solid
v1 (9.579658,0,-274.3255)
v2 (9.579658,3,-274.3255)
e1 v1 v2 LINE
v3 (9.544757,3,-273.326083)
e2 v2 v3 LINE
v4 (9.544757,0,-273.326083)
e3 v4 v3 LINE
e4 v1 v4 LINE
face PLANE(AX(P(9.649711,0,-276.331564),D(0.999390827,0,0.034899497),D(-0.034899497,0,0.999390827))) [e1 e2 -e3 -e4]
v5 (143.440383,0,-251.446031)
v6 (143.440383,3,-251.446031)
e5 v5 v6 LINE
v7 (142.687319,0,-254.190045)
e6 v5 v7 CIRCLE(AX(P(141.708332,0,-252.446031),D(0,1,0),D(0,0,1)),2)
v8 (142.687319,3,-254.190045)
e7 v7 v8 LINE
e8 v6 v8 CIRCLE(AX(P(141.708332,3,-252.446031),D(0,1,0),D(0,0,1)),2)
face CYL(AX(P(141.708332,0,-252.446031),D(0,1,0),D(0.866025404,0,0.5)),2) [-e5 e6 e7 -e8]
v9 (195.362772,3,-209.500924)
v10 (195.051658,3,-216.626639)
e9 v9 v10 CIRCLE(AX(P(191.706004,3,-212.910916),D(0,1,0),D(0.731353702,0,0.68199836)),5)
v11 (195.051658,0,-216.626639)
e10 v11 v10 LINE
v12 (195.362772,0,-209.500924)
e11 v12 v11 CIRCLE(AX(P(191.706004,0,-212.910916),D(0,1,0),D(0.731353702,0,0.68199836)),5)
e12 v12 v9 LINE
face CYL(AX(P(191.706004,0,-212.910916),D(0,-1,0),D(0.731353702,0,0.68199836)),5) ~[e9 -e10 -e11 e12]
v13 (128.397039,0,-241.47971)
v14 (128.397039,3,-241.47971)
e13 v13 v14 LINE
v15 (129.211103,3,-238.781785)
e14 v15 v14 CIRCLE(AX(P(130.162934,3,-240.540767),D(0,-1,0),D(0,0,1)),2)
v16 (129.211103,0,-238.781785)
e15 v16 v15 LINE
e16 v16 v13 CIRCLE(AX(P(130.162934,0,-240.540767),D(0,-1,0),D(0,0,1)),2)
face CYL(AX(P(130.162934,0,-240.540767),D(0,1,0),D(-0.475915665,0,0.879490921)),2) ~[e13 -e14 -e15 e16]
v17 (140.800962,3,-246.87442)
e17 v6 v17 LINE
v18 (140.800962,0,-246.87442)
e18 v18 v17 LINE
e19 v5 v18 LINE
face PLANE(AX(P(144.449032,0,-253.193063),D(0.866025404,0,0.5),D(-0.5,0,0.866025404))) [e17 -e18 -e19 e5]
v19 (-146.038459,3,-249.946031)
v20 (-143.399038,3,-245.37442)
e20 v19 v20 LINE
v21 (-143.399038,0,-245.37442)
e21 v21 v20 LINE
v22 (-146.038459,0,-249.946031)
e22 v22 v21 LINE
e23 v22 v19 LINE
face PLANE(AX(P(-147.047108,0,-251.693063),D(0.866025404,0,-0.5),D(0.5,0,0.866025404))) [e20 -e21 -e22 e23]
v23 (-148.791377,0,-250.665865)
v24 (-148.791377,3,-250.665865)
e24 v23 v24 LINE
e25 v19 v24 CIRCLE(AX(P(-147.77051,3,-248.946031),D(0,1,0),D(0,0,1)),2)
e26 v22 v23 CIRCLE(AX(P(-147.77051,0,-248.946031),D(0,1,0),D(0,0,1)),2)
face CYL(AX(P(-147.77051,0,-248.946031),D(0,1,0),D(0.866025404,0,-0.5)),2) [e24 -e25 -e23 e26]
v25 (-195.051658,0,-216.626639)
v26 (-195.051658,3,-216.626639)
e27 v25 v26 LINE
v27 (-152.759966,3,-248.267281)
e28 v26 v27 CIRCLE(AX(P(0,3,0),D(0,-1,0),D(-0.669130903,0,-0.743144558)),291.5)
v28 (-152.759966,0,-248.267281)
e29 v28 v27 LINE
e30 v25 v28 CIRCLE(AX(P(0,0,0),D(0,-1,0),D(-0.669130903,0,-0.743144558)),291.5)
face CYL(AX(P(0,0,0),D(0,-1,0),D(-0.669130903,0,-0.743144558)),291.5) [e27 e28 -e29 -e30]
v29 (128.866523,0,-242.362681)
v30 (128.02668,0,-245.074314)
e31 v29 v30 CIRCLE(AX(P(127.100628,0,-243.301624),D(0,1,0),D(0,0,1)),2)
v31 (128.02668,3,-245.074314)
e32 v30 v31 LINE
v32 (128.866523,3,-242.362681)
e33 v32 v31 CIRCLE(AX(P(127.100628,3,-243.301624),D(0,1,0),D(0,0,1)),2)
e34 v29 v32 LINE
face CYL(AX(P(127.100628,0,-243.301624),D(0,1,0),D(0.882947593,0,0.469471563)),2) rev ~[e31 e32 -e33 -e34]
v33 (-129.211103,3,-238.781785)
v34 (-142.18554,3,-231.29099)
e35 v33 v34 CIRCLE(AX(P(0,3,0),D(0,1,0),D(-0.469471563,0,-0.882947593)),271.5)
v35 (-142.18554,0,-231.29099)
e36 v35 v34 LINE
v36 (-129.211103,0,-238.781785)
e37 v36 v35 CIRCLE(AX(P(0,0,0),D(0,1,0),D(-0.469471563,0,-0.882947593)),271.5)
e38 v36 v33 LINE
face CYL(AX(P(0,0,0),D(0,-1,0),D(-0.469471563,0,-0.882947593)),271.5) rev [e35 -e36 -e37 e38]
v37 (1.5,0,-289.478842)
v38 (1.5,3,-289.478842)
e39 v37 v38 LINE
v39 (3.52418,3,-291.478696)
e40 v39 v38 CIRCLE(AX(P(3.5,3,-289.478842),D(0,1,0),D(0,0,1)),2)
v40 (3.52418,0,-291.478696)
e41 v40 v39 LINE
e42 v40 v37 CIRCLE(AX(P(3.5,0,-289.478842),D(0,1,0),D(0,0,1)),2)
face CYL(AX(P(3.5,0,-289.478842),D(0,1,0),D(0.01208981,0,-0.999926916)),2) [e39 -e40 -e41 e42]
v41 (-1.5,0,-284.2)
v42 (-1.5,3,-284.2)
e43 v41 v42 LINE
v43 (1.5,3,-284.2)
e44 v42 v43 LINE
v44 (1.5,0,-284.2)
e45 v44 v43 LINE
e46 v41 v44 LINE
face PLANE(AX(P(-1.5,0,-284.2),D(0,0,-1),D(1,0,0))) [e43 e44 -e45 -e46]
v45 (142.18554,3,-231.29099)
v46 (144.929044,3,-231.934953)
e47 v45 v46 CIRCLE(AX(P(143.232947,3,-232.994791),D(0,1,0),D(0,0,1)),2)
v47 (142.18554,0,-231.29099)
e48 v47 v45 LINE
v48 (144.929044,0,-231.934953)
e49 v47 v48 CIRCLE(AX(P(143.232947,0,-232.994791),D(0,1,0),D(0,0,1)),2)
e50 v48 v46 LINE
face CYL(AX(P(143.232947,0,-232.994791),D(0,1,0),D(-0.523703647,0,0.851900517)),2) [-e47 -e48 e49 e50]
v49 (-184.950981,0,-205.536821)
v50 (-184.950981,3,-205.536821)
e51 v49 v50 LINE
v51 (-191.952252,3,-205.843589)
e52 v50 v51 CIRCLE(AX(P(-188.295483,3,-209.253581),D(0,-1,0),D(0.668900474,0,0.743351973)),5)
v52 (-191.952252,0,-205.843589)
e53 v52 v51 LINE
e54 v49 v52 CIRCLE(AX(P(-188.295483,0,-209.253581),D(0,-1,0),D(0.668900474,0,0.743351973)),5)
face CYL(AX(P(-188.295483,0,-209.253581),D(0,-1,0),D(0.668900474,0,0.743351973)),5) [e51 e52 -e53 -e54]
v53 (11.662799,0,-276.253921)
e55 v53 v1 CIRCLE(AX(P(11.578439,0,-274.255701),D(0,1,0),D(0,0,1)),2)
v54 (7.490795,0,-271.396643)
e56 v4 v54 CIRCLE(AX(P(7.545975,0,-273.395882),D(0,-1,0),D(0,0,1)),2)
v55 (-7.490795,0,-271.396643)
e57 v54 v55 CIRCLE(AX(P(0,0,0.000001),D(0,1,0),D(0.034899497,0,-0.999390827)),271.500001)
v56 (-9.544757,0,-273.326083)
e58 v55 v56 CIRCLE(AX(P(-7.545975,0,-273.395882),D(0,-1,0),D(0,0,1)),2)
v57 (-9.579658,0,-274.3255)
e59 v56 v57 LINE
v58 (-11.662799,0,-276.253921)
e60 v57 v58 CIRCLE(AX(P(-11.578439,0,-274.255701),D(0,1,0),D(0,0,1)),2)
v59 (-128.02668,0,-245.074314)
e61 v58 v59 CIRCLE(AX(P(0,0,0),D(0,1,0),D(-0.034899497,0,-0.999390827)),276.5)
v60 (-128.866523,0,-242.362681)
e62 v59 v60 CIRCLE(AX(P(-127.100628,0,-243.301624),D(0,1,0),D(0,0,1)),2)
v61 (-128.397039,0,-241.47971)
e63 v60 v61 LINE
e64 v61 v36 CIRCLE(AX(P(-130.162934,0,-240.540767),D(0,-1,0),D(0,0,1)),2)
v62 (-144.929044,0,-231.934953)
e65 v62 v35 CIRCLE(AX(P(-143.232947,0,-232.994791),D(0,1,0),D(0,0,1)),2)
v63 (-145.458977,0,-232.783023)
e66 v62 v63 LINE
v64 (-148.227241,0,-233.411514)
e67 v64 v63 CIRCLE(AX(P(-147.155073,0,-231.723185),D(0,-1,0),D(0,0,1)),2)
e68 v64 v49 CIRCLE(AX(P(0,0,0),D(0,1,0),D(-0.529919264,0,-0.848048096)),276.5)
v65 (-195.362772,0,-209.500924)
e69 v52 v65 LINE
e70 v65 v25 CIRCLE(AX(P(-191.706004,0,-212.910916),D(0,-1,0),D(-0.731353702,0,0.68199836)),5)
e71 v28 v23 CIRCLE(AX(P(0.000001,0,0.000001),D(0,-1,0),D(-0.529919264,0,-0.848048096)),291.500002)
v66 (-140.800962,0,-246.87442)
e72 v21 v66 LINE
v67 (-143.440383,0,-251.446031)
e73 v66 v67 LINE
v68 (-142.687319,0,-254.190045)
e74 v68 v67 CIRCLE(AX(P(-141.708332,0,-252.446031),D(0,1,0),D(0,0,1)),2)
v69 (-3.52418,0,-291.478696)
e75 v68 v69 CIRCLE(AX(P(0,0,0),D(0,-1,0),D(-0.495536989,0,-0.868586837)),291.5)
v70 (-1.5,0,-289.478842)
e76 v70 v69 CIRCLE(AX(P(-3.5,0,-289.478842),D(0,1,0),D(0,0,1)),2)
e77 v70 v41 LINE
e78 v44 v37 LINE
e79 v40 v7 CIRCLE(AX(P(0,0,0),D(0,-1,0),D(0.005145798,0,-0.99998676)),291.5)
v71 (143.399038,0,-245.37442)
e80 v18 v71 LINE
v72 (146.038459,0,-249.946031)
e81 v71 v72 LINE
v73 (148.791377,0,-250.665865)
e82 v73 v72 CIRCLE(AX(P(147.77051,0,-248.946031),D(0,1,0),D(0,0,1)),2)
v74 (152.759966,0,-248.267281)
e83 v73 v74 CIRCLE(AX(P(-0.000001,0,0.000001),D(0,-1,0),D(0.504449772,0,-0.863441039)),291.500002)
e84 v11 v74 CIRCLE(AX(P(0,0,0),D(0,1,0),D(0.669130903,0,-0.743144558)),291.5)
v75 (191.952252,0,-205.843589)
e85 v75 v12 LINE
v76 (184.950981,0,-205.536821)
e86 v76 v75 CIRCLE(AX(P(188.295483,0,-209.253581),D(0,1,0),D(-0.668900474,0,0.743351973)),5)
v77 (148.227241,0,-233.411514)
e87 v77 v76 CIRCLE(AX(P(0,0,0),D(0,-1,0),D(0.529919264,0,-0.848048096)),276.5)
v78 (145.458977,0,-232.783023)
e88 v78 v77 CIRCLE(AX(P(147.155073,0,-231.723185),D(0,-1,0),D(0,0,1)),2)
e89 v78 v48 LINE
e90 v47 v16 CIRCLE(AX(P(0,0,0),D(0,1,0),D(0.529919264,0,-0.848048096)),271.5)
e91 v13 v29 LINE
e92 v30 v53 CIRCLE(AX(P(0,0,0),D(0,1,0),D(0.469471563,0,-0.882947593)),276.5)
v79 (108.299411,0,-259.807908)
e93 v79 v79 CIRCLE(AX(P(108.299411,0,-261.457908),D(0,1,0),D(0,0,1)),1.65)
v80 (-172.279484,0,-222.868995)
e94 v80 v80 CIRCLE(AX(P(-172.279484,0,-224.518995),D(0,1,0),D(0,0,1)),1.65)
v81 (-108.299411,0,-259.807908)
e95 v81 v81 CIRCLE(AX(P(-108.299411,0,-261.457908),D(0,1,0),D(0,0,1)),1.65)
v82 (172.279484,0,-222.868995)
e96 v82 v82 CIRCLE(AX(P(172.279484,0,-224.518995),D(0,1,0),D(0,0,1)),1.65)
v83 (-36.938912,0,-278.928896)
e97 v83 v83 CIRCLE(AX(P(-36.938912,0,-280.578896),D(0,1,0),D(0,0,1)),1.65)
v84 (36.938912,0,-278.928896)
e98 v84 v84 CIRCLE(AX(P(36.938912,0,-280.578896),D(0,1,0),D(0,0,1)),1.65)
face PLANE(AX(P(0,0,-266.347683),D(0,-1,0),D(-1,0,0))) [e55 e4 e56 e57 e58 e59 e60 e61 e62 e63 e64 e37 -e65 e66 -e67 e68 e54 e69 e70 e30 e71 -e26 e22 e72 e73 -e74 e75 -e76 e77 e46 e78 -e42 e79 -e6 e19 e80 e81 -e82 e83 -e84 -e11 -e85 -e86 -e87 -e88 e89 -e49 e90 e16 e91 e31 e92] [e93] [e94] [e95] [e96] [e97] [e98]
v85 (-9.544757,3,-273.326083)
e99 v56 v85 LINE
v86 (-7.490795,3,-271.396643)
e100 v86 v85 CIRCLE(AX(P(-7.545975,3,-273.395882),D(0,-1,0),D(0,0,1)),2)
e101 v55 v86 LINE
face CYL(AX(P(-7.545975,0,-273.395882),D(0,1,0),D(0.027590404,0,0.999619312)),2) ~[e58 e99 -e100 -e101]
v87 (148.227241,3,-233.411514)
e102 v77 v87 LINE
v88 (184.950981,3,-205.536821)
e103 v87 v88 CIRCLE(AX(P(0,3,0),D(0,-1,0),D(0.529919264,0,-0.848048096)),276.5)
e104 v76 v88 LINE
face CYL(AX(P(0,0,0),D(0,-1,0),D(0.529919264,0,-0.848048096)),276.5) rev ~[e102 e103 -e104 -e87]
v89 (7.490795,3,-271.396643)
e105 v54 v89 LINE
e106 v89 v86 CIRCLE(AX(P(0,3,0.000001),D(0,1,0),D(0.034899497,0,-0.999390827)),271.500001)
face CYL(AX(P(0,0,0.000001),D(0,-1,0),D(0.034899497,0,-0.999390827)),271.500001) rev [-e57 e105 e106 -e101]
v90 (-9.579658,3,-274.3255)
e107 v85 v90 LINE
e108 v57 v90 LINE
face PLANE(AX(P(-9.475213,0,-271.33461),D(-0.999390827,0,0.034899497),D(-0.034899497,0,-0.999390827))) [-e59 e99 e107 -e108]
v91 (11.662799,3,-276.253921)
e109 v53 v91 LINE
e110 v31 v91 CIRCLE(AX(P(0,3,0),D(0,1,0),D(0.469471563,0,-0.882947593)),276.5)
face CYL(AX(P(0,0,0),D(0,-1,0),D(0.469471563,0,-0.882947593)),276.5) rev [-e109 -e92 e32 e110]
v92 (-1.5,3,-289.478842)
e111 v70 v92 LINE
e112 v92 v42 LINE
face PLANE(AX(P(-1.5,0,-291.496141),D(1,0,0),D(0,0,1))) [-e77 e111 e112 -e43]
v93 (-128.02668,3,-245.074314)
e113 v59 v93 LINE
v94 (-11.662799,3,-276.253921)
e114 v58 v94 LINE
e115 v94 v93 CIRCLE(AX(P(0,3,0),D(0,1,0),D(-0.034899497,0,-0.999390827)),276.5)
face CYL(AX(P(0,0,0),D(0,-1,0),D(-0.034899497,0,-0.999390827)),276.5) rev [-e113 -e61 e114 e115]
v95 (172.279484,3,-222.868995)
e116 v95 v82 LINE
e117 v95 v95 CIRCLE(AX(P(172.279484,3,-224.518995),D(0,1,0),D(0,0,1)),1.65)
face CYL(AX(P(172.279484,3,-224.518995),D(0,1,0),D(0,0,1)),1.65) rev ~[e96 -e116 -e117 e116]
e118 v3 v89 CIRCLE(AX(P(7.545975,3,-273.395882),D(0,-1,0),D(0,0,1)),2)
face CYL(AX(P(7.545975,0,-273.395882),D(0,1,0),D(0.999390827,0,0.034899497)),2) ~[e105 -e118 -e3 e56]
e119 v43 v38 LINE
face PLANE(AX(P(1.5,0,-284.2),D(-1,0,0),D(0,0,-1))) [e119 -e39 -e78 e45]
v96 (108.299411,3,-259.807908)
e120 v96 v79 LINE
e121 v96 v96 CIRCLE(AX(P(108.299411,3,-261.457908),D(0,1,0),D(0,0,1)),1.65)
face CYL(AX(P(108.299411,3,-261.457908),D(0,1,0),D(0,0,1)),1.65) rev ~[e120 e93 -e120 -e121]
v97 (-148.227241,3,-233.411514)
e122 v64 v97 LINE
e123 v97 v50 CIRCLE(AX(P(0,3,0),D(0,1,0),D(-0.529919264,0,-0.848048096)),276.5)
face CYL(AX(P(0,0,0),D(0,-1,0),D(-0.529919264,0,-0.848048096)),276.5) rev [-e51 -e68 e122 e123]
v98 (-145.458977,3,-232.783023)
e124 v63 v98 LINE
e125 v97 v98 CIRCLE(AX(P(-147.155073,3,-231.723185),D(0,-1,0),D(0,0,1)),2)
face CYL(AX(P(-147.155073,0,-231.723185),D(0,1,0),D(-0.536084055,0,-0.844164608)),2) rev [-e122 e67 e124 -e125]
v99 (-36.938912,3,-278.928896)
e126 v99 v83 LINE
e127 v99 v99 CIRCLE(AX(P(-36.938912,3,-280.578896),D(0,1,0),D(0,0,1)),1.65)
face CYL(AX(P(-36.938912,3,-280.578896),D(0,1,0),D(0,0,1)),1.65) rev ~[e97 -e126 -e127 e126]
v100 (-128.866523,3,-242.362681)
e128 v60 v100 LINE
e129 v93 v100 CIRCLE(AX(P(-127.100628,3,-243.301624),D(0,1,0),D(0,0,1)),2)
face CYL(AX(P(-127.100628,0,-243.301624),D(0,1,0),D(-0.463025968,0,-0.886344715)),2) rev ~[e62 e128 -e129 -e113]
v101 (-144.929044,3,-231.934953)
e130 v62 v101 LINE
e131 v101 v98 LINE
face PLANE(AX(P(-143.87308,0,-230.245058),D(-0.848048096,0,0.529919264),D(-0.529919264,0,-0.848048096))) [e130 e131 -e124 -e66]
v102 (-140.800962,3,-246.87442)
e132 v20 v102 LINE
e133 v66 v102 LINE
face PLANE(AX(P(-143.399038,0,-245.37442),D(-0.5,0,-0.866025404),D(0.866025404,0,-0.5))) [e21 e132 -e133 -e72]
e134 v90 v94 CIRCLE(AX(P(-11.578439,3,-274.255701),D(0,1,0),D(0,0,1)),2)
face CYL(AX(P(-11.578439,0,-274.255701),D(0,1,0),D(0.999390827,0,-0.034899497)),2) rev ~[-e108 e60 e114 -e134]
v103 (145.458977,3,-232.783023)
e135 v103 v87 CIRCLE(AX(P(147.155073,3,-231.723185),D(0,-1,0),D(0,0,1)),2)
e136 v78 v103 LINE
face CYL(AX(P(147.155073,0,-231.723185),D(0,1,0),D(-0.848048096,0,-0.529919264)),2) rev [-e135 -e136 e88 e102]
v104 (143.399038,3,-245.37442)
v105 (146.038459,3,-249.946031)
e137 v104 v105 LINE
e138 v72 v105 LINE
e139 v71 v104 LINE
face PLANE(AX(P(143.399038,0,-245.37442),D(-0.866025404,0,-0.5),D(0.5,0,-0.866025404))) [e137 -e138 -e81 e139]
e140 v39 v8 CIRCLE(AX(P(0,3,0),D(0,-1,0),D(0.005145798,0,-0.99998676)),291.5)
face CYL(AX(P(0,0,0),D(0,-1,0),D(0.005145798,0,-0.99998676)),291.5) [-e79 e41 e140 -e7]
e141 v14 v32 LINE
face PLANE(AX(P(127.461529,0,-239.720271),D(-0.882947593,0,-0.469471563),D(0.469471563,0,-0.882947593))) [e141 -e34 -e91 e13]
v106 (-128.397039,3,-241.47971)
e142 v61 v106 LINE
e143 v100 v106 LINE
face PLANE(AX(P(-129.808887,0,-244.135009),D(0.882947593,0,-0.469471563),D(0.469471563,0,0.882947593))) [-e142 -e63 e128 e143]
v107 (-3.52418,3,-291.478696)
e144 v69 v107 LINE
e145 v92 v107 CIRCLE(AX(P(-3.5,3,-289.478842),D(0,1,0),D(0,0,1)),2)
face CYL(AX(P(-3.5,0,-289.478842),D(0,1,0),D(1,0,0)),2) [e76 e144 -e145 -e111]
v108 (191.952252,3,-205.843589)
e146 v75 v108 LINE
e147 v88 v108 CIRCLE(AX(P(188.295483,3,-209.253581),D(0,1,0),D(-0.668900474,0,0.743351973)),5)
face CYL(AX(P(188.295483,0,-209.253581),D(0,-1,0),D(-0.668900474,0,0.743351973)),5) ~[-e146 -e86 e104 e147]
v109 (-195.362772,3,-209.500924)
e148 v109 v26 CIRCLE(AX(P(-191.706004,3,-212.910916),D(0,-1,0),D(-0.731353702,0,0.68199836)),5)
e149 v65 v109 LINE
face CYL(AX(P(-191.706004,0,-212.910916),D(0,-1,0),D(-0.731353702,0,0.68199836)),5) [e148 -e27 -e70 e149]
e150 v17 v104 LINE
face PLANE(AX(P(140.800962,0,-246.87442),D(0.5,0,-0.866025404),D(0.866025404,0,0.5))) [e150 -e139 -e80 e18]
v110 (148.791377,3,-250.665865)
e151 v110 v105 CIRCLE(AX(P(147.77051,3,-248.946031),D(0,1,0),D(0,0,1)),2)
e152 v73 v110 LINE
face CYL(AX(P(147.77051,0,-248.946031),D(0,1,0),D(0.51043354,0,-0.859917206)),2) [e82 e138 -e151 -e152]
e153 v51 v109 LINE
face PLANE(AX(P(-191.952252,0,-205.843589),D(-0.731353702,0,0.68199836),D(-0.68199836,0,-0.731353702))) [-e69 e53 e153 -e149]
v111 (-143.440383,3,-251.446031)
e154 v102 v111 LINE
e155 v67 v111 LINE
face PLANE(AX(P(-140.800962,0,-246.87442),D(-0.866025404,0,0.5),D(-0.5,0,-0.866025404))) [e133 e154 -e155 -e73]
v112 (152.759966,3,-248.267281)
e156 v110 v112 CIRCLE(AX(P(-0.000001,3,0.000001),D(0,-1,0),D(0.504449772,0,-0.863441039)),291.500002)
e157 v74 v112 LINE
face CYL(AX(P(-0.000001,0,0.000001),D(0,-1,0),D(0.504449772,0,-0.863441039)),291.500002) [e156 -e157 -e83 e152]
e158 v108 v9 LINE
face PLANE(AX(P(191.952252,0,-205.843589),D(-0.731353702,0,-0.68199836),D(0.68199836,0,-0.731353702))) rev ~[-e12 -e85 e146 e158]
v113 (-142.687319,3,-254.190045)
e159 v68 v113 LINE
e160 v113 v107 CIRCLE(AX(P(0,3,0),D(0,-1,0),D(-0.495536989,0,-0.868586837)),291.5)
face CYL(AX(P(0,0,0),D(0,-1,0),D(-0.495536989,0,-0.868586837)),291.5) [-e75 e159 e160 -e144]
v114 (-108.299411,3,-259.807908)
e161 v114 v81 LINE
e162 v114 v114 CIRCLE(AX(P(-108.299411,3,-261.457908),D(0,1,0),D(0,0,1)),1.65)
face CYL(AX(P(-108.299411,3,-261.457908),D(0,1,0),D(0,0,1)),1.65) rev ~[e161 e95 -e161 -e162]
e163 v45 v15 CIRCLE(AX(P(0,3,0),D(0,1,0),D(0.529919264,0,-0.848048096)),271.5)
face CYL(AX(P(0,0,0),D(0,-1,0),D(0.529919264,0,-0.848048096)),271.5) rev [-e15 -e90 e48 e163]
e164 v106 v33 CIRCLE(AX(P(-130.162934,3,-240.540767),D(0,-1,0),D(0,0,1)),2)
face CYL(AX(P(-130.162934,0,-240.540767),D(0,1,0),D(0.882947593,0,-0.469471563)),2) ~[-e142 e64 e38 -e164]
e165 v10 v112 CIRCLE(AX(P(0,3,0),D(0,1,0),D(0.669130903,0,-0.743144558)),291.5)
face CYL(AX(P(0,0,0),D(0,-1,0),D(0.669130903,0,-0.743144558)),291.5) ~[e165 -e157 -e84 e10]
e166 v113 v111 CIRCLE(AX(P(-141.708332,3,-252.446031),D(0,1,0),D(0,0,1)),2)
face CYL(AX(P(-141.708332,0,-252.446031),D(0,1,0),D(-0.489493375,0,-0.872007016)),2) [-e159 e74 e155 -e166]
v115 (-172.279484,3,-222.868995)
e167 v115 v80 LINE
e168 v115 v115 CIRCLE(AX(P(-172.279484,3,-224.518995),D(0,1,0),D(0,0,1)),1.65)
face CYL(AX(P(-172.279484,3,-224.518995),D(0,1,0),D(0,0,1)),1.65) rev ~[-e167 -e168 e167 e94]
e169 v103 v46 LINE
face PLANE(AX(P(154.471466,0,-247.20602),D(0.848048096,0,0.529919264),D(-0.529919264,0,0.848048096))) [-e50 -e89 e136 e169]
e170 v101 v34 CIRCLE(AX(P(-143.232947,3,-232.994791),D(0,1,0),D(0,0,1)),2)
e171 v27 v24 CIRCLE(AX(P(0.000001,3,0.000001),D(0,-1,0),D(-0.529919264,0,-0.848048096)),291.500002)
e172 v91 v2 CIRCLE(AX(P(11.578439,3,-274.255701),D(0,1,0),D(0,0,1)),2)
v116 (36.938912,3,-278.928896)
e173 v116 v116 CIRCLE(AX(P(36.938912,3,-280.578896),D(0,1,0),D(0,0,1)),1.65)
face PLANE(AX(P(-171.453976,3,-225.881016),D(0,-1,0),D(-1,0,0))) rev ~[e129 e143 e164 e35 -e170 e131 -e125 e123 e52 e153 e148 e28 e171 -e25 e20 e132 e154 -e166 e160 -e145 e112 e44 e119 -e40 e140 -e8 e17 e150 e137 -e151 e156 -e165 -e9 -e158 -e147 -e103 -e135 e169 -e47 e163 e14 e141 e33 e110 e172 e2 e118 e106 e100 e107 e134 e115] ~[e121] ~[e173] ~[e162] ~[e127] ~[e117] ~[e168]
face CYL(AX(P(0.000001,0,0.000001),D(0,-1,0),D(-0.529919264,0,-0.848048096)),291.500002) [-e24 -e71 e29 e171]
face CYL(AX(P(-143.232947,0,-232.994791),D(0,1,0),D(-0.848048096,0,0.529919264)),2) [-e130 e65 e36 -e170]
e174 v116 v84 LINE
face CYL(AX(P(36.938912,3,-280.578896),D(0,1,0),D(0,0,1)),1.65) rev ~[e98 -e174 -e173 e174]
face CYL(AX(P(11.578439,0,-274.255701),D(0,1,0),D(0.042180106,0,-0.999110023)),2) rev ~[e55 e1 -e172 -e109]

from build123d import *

# Parameters (mm, degrees)
BOSS_EXTRUDE1_DEPTH = 3
FILLET1_R           = 2
FILLET2_R           = 2
FILLET3_R           = 2
BOSS_EXTRUDE2_START = -3
BOSS_EXTRUDE2_DEPTH = 3
FILLET4_R           = 2
SKETCH3_R           = 1.65
CUT_EXTRUDE1_DEPTH  = 10


with BuildPart() as part:
    # Sketch1 → Boss-Extrude1 (new body)
    with BuildSketch(Plane(origin=(0, 0, 0), x_dir=(1, 0, 0), z_dir=(0, 1, 0))):
        with BuildLine():
            Line((-147.047108419, 251.693062887), (-143.399038106, 245.374419756))
            Line((-143.399038106, 245.374419756), (-140.800961894, 246.874419756))
            Line((-140.800961894, 246.874419756), (-144.449032207, 253.193062887))
            ThreePointArc((-144.449032207, 253.193062887), (-75.445751647, 281.567378363), (-1.5, 291.496140626))
            Line((-1.5, 291.496140626), (-1.5, 284.2))
            Line((-1.5, 284.2), (1.5, 284.2))
            Line((1.5, 284.2), (1.5, 291.496140626))
            ThreePointArc((1.5, 291.496140626), (75.445751647, 281.567378363), (144.449032207, 253.193062887))
            Line((144.449032207, 253.193062887), (140.800961894, 246.874419756))
            Line((140.800961894, 246.874419756), (143.399038106, 245.374419756))
            Line((143.399038106, 245.374419756), (147.047108419, 251.693062887))
            ThreePointArc((147.047108419, 251.693062887), (150.775979508, 249.477161286), (154.471465524, 247.20602003))
            Line((154.471465524, 247.20602003), (143.873080239, 230.245058106))
            ThreePointArc((143.873080239, 230.245058106), (135.75, 235.125897127), (127.461529296, 239.720271461))
            Line((127.461529296, 239.720271461), (129.80888711, 244.135009425))
            ThreePointArc((129.80888711, 244.135009425), (71.563465971, 267.078490969), (9.649710838, 276.331563671))
            Line((9.649710838, 276.331563671), (9.475213355, 271.334609536))
            ThreePointArc((9.475213355, 271.334609536), (0, 271.5), (-9.475213355, 271.334609536))
            Line((-9.475213355, 271.334609536), (-9.649710838, 276.331563671))
            ThreePointArc((-9.649710838, 276.331563671), (-71.563465971, 267.078490969), (-129.80888711, 244.135009425))
            Line((-129.80888711, 244.135009425), (-127.461529296, 239.720271461))
            ThreePointArc((-127.461529296, 239.720271461), (-135.75, 235.125897127), (-143.873080239, 230.245058106))
            Line((-143.873080239, 230.245058106), (-154.471465524, 247.20602003))
            ThreePointArc((-154.471465524, 247.20602003), (-150.775979508, 249.477161286), (-147.047108419, 251.693062887))
        make_face()
    extrude(amount=BOSS_EXTRUDE1_DEPTH)

    # Fillet1
    fillet1_edges = [part.edges().sort_by_distance(p)[0] for p in [
        (127.461529296, 1.5, -239.720271461),
        (129.80888711, 1.5, -244.135009425),
        (9.649710838, 1.5, -276.331563671),
        (9.475213355, 1.5, -271.334609536),
        (-9.475213355, 1.5, -271.334609536),
        (-9.649710838, 1.5, -276.331563671),
        (-129.80888711, 1.5, -244.135009425),
        (-127.461529296, 1.5, -239.720271461),
    ]]
    fillet(fillet1_edges, radius=FILLET1_R)

    # Fillet2
    fillet2_edges = [part.edges().sort_by_distance(p)[0] for p in [
        (154.471465524, 1.5, -247.20602003),
        (143.873080239, 1.5, -230.245058106),
        (-143.873080239, 1.5, -230.245058106),
        (-154.471465524, 1.5, -247.20602003),
    ]]
    fillet(fillet2_edges, radius=FILLET2_R)

    # Fillet3
    fillet3_edges = [part.edges().sort_by_distance(p)[0] for p in [
        (-147.047108419, 1.5, -251.693062887),
        (-144.449032207, 1.5, -253.193062887),
        (-1.5, 1.5, -291.496140626),
        (1.5, 1.5, -291.496140626),
        (144.449032207, 1.5, -253.193062887),
        (147.047108419, 1.5, -251.693062887),
    ]]
    fillet(fillet3_edges, radius=FILLET3_R)

    # Sketch2 → Boss-Extrude2 (add)
    with BuildSketch(Plane(origin=(0, 3, 0), x_dir=(1, 0, 0), z_dir=(0, 1, 0)).offset(BOSS_EXTRUDE2_START)):
        with BuildLine():
            Line((-152.759965651, 248.267281159), (-146.52267656, 234.485298587))
            ThreePointArc((-146.52267656, 234.485298587), (-166.367665138, 220.84847746), (-184.950980973, 205.536820636))
            ThreePointArc((-184.950980973, 205.536820636), (-188.514353616, 204.258373219), (-191.95225185, 205.843588702))
            Line((-191.95225185, 205.843588702), (-195.362772292, 209.500924109))
            ThreePointArc((-195.362772292, 209.500924109), (-196.701244935, 213.129011848), (-195.0516583, 216.6266387))
            ThreePointArc((-195.0516583, 216.6266387), (-174.623921622, 233.406803666), (-152.759965651, 248.267281159))
        make_face()
        with BuildLine():
            Line((191.95225185, 205.843588702), (195.362772292, 209.500924109))
            ThreePointArc((195.362772292, 209.500924109), (196.701244935, 213.129011848), (195.0516583, 216.6266387))
            ThreePointArc((195.0516583, 216.6266387), (174.623921622, 233.406803666), (152.759965651, 248.267281159))
            Line((152.759965651, 248.267281159), (146.52267656, 234.485298587))
            ThreePointArc((146.52267656, 234.485298587), (166.367665138, 220.84847746), (184.950980973, 205.536820636))
            ThreePointArc((184.950980973, 205.536820636), (188.514353616, 204.258373219), (191.95225185, 205.843588702))
        make_face()
    extrude(amount=BOSS_EXTRUDE2_DEPTH)

    # Fillet4
    fillet4_edges = [part.edges().sort_by_distance(p)[0] for p in [
        (-146.52267656, 1.5, -234.485298587),
        (146.52267656, 1.5, -234.485298587),
    ]]
    fillet(fillet4_edges, radius=FILLET4_R)

    # Sketch3 → Cut-Extrude1 (cut)
    with BuildSketch(Plane(origin=(0, 3, 0), x_dir=(1, 0, 0), z_dir=(0, 1, 0))):
        with Locations(Location((-36.938912398, 280.578895769, 0), (0, 0, 270))):
            Circle(SKETCH3_R)
        with Locations(Location((36.938912398, 280.578895769, 0), (0, 0, 270))):
            Circle(SKETCH3_R)
        with Locations(Location((108.299411359, 261.457907701, 0), (0, 0, 270))):
            Circle(SKETCH3_R)
        with Locations(Location((-108.299411359, 261.457907701, 0), (0, 0, 270))):
            Circle(SKETCH3_R)
        with Locations(Location((172.279484409, 224.518995302, 0), (0, 0, 270))):
            Circle(SKETCH3_R)
        with Locations(Location((-172.279484409, 224.518995302, 0), (0, 0, 270))):
            Circle(SKETCH3_R)
    extrude(amount=-CUT_EXTRUDE1_DEPTH, mode=Mode.SUBTRACT)


solid = part.part
